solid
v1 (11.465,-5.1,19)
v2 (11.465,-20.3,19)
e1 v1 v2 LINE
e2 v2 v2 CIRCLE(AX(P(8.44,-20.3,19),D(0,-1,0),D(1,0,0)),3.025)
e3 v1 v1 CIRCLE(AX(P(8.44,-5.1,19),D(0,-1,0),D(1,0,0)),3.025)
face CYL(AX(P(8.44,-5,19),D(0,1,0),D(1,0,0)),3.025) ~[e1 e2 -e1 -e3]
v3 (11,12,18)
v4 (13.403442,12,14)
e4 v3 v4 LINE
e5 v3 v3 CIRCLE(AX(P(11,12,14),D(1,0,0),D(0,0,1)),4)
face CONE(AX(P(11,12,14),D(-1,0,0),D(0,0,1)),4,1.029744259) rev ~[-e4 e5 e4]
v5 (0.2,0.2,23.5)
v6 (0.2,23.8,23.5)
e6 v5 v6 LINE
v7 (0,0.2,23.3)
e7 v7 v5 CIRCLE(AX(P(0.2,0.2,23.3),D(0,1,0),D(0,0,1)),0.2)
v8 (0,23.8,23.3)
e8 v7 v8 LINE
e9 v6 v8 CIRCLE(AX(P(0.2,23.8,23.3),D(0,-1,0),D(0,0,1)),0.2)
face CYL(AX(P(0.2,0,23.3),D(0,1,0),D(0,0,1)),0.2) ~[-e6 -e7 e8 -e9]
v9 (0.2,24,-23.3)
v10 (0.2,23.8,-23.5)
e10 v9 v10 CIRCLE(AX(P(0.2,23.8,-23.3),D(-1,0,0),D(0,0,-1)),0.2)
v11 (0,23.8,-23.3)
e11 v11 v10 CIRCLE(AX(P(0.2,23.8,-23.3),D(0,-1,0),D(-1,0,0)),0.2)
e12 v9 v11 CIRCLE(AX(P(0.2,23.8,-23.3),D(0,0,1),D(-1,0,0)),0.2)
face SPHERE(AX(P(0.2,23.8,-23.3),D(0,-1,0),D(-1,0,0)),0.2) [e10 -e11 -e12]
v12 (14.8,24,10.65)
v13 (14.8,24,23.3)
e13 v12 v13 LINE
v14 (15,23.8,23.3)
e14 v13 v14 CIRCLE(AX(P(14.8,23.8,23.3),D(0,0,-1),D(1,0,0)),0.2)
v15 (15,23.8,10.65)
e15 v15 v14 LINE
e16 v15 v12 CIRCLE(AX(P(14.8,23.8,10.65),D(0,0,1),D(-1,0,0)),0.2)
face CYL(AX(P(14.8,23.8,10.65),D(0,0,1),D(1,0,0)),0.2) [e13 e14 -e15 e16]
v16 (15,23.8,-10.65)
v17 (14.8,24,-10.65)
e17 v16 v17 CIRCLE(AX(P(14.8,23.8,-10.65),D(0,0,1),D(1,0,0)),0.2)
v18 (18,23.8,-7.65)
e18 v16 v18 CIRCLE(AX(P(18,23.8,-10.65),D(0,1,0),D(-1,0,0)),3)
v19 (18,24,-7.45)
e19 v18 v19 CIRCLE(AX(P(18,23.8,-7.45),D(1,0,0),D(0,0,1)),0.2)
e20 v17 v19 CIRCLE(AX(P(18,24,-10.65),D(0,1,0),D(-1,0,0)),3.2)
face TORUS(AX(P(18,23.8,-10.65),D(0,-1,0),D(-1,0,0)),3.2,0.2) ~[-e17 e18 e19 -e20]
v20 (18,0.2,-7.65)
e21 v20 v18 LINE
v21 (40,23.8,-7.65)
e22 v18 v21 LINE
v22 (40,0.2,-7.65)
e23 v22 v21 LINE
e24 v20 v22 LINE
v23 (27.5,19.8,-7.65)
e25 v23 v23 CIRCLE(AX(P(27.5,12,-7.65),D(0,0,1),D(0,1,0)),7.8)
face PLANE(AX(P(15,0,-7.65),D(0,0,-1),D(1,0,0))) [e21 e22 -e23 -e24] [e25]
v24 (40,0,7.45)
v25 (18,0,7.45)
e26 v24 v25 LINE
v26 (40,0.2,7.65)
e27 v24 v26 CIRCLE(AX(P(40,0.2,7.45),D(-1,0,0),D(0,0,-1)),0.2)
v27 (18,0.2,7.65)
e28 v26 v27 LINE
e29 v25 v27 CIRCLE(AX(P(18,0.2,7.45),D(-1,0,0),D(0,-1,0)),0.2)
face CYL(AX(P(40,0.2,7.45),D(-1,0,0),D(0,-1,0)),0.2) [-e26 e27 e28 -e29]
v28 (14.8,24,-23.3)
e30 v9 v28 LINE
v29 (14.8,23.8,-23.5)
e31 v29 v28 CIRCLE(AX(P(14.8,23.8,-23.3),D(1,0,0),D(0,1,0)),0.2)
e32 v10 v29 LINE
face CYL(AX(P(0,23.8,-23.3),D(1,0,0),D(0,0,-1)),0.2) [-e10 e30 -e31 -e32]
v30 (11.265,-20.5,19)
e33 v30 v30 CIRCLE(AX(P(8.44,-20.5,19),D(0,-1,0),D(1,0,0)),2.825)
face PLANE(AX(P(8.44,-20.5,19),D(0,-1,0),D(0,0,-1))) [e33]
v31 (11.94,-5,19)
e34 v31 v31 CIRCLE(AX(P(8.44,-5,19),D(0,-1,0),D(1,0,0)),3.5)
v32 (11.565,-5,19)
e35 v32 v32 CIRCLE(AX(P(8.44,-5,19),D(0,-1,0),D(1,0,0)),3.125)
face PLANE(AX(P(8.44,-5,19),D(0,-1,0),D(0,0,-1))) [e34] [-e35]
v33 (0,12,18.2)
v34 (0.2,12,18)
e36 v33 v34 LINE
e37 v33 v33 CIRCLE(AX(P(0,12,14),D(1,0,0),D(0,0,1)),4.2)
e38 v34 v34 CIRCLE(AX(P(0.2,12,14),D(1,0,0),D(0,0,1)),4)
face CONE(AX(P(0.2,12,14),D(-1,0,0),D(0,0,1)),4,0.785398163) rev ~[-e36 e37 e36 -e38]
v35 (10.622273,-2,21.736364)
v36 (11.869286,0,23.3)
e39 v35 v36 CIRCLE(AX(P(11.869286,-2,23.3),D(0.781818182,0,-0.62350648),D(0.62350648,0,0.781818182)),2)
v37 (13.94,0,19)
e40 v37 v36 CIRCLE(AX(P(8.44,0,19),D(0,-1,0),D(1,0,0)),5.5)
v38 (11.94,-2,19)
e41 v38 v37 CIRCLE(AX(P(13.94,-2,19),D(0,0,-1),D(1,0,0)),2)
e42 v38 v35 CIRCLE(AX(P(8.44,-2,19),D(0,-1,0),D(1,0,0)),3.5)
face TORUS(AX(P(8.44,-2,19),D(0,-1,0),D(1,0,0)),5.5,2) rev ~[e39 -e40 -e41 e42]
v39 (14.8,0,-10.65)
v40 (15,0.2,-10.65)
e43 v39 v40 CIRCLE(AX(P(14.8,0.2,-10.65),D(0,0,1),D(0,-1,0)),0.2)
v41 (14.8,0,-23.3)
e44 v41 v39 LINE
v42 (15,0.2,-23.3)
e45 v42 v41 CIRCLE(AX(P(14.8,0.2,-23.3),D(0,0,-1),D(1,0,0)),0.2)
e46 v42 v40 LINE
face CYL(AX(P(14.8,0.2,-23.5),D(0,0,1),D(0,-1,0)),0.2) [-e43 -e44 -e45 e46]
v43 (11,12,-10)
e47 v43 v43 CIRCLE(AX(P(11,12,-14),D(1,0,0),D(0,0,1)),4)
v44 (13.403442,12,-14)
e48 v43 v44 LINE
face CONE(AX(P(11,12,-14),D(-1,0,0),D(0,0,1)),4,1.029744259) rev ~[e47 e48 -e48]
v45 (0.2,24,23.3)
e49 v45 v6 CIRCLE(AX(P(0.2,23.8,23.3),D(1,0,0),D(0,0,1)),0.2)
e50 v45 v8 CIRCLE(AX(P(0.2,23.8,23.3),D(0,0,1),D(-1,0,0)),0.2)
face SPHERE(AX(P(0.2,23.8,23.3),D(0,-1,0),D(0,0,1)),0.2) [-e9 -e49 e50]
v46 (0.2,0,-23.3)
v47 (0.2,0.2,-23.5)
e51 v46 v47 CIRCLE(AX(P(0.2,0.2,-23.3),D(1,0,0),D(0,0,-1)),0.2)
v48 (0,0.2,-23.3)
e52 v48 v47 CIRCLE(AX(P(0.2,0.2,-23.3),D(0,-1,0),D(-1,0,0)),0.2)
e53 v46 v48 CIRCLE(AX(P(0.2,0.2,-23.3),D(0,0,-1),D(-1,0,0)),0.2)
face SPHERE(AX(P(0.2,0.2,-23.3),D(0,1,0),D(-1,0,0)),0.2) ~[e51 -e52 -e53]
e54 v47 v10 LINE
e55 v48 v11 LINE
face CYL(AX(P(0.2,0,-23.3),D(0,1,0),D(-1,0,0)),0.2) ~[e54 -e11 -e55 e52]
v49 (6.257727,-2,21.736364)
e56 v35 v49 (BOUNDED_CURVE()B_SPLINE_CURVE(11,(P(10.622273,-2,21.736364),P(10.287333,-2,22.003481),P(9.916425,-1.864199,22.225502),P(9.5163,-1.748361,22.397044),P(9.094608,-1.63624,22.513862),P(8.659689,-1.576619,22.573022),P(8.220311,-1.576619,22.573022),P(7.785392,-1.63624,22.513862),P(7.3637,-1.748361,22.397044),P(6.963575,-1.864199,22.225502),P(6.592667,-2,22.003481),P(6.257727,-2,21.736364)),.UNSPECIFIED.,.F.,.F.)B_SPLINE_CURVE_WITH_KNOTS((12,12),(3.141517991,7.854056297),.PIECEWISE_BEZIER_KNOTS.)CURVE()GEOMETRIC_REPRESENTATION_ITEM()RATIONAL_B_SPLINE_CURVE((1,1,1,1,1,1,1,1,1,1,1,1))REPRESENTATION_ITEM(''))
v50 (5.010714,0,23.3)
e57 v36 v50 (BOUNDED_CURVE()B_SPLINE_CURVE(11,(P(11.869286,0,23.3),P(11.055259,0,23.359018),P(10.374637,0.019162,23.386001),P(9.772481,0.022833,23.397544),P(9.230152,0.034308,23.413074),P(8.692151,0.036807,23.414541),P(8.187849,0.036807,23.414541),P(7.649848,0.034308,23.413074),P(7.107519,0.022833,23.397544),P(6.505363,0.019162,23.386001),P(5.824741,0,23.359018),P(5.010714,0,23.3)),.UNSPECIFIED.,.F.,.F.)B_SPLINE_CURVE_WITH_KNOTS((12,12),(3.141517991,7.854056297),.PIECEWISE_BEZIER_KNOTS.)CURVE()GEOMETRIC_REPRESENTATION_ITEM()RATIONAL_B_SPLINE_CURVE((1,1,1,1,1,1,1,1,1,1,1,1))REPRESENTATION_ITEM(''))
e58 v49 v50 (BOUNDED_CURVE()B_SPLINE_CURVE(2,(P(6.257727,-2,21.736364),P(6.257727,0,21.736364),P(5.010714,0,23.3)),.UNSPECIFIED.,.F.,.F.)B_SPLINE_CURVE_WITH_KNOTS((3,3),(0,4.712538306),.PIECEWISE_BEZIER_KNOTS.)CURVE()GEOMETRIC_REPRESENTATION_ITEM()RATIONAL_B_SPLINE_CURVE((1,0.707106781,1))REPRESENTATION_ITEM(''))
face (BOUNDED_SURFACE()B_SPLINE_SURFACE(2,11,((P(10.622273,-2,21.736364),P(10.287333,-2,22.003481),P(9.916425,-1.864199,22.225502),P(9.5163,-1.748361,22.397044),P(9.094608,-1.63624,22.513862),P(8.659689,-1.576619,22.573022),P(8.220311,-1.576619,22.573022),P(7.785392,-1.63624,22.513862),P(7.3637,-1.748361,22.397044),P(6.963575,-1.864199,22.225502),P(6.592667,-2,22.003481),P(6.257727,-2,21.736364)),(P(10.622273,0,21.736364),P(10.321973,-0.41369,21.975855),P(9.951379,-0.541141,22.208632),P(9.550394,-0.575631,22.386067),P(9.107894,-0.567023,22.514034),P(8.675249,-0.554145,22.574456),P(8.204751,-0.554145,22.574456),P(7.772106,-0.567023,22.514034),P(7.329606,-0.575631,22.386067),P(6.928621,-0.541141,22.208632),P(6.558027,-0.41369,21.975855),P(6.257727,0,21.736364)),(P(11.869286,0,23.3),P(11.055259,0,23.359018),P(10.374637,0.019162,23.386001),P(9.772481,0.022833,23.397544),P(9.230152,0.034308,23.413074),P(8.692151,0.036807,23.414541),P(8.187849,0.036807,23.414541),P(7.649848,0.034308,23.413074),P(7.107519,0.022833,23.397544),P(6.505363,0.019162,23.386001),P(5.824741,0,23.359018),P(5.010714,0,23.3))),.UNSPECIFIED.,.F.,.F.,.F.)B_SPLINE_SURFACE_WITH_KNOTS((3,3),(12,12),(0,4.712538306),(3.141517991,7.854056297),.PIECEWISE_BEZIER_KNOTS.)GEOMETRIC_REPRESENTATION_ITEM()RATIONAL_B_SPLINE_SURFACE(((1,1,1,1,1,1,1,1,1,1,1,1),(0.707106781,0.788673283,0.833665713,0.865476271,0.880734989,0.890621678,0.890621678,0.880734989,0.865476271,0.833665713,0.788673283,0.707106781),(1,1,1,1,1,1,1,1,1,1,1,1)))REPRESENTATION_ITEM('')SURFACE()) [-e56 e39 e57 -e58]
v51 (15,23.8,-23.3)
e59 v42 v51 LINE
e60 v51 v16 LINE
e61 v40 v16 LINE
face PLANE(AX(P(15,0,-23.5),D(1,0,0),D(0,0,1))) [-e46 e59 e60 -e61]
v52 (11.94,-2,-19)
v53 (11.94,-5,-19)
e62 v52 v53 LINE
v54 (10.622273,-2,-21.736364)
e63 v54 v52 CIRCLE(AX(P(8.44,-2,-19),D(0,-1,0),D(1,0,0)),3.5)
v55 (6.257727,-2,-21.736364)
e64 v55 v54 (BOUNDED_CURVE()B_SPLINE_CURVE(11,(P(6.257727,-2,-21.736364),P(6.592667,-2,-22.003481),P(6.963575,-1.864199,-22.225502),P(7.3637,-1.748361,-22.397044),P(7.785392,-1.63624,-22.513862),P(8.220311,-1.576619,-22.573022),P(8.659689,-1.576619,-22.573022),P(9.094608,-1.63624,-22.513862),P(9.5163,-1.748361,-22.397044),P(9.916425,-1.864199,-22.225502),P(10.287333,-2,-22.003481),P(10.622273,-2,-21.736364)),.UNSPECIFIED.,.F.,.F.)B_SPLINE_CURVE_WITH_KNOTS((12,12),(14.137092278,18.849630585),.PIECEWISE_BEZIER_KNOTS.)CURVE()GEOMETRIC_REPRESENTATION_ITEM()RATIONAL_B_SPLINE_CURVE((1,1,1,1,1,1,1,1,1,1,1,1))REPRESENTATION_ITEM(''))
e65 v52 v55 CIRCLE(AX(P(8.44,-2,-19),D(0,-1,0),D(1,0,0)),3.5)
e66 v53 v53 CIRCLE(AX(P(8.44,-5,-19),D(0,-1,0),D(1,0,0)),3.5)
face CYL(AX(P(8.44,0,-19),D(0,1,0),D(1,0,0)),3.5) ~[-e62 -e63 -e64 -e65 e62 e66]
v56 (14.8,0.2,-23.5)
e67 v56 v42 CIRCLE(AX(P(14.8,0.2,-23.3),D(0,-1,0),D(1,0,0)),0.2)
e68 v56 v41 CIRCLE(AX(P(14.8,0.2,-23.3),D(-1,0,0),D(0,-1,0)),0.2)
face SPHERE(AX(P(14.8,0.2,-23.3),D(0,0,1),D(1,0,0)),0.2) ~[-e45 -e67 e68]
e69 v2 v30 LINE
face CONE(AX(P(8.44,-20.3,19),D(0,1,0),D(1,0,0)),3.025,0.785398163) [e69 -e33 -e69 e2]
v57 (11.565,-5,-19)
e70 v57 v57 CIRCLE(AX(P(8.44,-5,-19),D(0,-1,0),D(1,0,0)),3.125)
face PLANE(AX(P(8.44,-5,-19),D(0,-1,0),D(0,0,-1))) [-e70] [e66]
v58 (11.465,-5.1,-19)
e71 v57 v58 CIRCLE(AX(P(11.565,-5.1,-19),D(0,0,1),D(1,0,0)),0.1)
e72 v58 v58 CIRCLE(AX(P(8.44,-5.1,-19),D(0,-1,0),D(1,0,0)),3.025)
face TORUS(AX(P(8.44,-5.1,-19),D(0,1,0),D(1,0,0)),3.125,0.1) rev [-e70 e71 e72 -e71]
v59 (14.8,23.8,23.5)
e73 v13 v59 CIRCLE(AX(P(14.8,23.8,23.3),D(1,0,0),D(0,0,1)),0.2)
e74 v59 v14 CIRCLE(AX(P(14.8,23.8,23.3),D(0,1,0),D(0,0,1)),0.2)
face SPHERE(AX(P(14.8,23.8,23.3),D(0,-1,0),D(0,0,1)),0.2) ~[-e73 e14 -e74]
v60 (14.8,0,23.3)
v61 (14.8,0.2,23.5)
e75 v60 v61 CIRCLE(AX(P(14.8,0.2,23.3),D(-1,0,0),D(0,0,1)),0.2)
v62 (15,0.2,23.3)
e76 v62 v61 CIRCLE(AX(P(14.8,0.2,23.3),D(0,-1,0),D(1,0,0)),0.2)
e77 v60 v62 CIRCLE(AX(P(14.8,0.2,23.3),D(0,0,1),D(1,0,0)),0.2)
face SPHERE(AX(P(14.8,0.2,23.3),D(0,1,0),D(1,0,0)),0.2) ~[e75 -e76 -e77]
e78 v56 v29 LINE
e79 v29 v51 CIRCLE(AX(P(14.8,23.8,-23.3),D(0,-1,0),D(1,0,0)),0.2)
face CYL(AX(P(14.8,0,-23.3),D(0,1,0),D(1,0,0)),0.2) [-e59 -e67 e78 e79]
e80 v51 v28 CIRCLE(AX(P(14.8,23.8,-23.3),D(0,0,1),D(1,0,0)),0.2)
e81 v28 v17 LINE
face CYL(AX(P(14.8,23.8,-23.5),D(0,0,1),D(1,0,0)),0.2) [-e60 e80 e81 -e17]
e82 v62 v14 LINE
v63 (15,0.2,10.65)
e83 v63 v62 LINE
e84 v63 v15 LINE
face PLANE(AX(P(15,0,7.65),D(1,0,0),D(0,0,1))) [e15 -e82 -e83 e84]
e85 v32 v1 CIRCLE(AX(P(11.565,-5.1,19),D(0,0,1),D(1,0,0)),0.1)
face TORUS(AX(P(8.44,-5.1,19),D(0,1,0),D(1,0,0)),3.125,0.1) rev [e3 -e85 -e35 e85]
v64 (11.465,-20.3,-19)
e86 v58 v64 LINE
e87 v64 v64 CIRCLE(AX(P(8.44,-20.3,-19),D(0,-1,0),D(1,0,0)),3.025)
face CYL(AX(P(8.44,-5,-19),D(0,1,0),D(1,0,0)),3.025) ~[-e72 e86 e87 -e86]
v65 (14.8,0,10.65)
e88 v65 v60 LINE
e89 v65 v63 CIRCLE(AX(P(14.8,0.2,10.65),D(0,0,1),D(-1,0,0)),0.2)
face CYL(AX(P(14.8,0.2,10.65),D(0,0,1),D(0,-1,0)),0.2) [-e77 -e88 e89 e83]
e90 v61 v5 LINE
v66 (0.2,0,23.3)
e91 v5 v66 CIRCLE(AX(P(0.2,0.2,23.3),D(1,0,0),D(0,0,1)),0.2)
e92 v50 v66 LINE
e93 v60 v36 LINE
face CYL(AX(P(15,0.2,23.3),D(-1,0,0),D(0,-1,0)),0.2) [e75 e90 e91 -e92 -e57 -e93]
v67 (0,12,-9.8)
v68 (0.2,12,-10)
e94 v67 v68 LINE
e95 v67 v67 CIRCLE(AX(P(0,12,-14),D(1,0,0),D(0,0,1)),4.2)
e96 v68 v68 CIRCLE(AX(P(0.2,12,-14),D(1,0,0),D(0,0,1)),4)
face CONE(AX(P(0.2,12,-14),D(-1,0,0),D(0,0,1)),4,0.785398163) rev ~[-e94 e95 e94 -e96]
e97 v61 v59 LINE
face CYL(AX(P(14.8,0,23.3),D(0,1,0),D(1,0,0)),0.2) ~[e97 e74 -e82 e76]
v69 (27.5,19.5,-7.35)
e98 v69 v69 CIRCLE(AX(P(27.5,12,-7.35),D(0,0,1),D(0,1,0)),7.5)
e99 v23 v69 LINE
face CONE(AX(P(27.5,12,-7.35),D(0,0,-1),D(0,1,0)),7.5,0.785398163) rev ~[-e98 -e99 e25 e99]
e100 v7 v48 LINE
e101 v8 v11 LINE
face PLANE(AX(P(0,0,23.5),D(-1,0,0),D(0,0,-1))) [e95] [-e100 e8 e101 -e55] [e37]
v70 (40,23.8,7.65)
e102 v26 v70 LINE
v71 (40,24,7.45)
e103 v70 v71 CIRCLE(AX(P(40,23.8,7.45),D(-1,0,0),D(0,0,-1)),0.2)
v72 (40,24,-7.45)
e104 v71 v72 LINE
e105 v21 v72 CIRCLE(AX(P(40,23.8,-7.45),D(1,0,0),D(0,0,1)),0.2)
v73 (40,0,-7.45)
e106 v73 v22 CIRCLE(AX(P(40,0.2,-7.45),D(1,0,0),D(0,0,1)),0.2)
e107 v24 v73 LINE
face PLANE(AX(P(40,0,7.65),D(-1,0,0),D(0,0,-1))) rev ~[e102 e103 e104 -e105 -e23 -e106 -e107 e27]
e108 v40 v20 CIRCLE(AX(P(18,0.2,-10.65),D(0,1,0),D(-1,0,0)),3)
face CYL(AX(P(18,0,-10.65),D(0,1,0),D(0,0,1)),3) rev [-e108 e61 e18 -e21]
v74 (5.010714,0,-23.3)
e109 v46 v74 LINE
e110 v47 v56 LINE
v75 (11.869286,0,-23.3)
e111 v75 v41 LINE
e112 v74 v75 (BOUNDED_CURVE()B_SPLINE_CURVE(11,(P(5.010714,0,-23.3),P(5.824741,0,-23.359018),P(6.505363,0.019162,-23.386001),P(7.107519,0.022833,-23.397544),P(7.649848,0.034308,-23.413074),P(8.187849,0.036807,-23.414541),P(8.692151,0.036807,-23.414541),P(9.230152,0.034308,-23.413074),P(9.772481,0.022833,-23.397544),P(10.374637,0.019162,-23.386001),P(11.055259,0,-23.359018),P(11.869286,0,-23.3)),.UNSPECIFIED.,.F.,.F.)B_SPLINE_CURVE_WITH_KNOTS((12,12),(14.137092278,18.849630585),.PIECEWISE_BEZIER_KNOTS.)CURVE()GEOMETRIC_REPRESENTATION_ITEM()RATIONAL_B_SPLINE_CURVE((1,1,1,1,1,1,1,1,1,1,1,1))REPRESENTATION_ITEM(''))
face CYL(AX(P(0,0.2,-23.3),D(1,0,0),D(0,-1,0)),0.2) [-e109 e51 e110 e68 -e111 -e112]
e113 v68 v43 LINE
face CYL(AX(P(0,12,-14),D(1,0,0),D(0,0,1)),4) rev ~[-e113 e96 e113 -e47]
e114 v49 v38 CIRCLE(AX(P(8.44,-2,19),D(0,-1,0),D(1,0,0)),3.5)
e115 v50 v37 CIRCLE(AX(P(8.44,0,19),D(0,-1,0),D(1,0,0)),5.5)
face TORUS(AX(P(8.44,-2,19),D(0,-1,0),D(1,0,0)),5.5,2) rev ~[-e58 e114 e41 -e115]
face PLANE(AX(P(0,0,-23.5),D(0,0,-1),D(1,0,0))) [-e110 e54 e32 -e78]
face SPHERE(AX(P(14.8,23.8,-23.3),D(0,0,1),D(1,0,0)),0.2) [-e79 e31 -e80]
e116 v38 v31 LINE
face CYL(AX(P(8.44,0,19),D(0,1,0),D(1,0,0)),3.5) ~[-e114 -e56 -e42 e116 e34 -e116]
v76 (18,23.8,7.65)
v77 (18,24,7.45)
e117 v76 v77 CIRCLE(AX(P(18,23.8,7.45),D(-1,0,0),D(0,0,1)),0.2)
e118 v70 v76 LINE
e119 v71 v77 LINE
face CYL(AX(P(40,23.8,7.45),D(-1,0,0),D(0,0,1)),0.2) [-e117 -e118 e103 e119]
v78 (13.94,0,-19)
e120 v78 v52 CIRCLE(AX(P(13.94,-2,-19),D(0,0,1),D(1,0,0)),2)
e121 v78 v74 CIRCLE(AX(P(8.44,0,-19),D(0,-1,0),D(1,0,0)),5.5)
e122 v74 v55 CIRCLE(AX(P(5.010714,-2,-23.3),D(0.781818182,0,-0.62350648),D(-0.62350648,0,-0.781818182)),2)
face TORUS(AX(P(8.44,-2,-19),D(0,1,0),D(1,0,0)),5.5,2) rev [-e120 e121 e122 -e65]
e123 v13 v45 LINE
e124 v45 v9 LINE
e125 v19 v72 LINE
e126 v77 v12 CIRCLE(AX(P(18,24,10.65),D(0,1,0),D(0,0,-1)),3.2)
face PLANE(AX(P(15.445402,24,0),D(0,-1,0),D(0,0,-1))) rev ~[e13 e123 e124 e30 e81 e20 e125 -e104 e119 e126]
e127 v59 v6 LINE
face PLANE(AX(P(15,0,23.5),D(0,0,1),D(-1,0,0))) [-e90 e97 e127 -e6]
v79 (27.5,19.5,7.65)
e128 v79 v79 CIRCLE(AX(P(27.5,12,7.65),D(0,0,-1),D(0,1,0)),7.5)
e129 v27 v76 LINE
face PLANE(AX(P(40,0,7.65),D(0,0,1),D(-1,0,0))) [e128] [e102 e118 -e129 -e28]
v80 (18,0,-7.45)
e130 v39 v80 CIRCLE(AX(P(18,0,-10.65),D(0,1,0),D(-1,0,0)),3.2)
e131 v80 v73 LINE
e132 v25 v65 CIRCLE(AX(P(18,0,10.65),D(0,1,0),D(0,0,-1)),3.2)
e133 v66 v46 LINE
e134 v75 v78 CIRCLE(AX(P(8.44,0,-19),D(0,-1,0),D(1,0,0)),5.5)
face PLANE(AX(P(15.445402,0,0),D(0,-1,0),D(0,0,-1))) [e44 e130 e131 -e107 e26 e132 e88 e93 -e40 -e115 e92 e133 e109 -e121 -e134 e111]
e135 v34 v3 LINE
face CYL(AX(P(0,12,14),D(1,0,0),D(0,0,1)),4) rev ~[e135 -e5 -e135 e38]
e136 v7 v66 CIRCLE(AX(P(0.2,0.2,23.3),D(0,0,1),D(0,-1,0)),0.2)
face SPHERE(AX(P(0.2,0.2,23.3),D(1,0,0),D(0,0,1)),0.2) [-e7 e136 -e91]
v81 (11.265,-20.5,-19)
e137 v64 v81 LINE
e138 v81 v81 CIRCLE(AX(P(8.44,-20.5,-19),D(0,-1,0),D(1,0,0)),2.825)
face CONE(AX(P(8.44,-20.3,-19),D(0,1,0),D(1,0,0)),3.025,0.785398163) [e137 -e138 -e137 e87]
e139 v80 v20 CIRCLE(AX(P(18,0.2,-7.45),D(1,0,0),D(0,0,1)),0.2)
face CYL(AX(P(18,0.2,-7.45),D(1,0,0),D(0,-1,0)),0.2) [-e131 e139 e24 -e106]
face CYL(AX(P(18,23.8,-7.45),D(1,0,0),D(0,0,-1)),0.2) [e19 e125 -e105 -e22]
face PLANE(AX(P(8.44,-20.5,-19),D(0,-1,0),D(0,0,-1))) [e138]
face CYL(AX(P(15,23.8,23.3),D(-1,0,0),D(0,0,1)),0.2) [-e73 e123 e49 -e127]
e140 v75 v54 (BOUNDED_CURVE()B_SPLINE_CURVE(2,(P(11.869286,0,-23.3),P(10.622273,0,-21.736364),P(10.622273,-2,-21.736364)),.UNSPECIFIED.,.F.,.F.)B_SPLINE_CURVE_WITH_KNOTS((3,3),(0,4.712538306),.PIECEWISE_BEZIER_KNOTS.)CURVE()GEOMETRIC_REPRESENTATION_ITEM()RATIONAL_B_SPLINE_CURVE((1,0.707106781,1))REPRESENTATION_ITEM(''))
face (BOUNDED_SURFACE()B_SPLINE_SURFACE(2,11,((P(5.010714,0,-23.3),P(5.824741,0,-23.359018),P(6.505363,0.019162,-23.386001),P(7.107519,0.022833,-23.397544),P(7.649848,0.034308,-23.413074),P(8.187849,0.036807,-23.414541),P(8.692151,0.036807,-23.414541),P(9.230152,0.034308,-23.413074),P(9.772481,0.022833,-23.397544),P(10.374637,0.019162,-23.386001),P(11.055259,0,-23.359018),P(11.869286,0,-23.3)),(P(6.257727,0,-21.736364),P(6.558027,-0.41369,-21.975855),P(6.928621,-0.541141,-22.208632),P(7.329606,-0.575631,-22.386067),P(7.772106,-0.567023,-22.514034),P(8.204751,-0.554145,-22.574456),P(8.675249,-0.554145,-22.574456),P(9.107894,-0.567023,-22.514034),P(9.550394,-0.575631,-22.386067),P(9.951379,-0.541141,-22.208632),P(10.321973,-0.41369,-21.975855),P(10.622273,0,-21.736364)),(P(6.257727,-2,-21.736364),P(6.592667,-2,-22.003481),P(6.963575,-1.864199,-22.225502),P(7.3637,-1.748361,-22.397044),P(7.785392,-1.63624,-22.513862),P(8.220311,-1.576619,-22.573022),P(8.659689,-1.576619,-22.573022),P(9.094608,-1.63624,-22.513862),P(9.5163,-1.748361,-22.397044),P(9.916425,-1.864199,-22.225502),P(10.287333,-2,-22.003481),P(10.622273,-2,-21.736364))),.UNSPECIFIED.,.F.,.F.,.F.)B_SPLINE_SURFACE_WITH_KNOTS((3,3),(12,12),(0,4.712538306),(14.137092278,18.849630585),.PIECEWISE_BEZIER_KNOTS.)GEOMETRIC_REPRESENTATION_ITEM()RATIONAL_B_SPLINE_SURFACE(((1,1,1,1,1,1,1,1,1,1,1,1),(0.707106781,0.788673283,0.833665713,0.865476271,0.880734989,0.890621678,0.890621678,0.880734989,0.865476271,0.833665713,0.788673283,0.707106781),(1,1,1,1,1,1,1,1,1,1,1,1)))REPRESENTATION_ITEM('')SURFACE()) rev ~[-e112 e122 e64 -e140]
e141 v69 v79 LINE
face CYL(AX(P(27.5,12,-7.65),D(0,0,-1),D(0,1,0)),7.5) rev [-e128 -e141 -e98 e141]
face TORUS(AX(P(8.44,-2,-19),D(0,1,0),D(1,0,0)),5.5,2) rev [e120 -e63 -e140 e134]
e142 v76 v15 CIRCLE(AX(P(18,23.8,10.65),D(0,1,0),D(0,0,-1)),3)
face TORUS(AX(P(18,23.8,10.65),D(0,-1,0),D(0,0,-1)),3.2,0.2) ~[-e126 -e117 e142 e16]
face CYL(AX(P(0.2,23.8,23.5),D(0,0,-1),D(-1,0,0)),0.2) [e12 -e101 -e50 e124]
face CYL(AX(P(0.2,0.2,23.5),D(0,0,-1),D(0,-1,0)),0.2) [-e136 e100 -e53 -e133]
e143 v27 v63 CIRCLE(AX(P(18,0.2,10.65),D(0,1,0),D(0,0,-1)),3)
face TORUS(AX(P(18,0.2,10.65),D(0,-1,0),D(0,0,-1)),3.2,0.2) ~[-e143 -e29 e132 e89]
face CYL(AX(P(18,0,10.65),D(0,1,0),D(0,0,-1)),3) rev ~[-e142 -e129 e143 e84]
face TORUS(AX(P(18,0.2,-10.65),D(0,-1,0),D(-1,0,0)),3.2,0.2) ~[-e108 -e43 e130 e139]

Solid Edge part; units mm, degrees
sketch "Sketch1" plane through (0, 0, 0) normal (0, -1, 0) x (1, 0, 0)
  line L0 (40, 7.65) -> (15, 7.65)
  line L1 (15, 7.65) -> (15, 23.5)
  line L2 (15, 23.5) -> (0, 23.5)
  line L3 (0, 23.5) -> (0, -23.5)
  line L4 (0, -23.5) -> (15, -23.5)
  line L5 (15, -23.5) -> (15, -7.65)
  line L6 (15, -7.65) -> (40, -7.65)
  line L7 (40, 7.65) -> (40, -7.65)
extrude "Protrusion1" add sketch "Sketch1" against normal blind 24
sketch "Sketch2" plane through (26.19, 0, 0) normal (0, -1, 0) x (1, 0, 0)
  circle A0 centre (-17.75, -19) radius 3.5
  circle A1 centre (-17.75, 19) radius 3.5
  dimension "D1" = 6.56
  dimension "D2" = 4.5
  dimension "D3" = 4.5
extrude "Anschlag" add sketch "Sketch2" along normal blind 5
sketch "Sketch3" plane through (3.5, -5, 20) normal (0, -1, 0) x (1, 0, 0)
  circle A0 centre (4.94, -1) radius 3.025
  circle A1 centre (4.94, -39) radius 3.025
  dimension "D1" = 6.05
  dimension "D2" = 6.05
extrude "Lagersitz" add sketch "Sketch3" along normal blind 15.5
hole "Bohrung_1" at (0, 12, 14) direction (1, 0, 0) diameter 8 depth 11 tip angle 118 start chamfer 0.2 start chamfer angle 45
hole "Hole1" at (0, 12, -14) direction (1, 0, 0) diameter 8 depth 11 tip angle 118 start chamfer 0.2 start chamfer angle 45
hole "Linearlagersitz" at (27.5, 12, -7.65) direction (0, 0, 1) diameter 15 end up to next start chamfer 0.3 start chamfer angle 45
chamfer "Fase_Lager" distance 0.2 angle 45 2 edges at (5.415, -20.5, -19) (5.415, -20.5, 19)
fillet "Verrundung_Innen" radius 3 2 edges at (15, 12, 7.65) (15, 12, -7.65)
fillet "Verrundung_Außen" radius 0.2 22 edges at (0, 12, -23.5) (15, 24, -17.075) (15.8787, 24, -8.5287) (29, 24, -7.65) (15, 12, 23.5) (15, 0, -17.075) (15.8787, 0, -8.5287) (29, 0, -7.65) (29, 0, 7.65) (15.8787, 0, 8.5287) (15, 0, 17.075) (7.5, 0, 23.5) (0, 12, 23.5) (0, 0, 0) (7.5, 24, 23.5) (15, 12, -23.5) (0, 24, 0) (7.5, 24, -23.5) (29, 24, 7.65) (15.8787, 24, 8.5287) (15, 24, 17.075) (7.5, 0, -23.5)
fillet "Verrundung_Lagersitz" radius 0.1 2 edges at (5.415, -5, 19) (5.415, -5, -19)
fillet "Verrundung_WeakPoints" radius 2 2 edges at (8.44, 0, 22.5) (8.44, 0, -15.5)
